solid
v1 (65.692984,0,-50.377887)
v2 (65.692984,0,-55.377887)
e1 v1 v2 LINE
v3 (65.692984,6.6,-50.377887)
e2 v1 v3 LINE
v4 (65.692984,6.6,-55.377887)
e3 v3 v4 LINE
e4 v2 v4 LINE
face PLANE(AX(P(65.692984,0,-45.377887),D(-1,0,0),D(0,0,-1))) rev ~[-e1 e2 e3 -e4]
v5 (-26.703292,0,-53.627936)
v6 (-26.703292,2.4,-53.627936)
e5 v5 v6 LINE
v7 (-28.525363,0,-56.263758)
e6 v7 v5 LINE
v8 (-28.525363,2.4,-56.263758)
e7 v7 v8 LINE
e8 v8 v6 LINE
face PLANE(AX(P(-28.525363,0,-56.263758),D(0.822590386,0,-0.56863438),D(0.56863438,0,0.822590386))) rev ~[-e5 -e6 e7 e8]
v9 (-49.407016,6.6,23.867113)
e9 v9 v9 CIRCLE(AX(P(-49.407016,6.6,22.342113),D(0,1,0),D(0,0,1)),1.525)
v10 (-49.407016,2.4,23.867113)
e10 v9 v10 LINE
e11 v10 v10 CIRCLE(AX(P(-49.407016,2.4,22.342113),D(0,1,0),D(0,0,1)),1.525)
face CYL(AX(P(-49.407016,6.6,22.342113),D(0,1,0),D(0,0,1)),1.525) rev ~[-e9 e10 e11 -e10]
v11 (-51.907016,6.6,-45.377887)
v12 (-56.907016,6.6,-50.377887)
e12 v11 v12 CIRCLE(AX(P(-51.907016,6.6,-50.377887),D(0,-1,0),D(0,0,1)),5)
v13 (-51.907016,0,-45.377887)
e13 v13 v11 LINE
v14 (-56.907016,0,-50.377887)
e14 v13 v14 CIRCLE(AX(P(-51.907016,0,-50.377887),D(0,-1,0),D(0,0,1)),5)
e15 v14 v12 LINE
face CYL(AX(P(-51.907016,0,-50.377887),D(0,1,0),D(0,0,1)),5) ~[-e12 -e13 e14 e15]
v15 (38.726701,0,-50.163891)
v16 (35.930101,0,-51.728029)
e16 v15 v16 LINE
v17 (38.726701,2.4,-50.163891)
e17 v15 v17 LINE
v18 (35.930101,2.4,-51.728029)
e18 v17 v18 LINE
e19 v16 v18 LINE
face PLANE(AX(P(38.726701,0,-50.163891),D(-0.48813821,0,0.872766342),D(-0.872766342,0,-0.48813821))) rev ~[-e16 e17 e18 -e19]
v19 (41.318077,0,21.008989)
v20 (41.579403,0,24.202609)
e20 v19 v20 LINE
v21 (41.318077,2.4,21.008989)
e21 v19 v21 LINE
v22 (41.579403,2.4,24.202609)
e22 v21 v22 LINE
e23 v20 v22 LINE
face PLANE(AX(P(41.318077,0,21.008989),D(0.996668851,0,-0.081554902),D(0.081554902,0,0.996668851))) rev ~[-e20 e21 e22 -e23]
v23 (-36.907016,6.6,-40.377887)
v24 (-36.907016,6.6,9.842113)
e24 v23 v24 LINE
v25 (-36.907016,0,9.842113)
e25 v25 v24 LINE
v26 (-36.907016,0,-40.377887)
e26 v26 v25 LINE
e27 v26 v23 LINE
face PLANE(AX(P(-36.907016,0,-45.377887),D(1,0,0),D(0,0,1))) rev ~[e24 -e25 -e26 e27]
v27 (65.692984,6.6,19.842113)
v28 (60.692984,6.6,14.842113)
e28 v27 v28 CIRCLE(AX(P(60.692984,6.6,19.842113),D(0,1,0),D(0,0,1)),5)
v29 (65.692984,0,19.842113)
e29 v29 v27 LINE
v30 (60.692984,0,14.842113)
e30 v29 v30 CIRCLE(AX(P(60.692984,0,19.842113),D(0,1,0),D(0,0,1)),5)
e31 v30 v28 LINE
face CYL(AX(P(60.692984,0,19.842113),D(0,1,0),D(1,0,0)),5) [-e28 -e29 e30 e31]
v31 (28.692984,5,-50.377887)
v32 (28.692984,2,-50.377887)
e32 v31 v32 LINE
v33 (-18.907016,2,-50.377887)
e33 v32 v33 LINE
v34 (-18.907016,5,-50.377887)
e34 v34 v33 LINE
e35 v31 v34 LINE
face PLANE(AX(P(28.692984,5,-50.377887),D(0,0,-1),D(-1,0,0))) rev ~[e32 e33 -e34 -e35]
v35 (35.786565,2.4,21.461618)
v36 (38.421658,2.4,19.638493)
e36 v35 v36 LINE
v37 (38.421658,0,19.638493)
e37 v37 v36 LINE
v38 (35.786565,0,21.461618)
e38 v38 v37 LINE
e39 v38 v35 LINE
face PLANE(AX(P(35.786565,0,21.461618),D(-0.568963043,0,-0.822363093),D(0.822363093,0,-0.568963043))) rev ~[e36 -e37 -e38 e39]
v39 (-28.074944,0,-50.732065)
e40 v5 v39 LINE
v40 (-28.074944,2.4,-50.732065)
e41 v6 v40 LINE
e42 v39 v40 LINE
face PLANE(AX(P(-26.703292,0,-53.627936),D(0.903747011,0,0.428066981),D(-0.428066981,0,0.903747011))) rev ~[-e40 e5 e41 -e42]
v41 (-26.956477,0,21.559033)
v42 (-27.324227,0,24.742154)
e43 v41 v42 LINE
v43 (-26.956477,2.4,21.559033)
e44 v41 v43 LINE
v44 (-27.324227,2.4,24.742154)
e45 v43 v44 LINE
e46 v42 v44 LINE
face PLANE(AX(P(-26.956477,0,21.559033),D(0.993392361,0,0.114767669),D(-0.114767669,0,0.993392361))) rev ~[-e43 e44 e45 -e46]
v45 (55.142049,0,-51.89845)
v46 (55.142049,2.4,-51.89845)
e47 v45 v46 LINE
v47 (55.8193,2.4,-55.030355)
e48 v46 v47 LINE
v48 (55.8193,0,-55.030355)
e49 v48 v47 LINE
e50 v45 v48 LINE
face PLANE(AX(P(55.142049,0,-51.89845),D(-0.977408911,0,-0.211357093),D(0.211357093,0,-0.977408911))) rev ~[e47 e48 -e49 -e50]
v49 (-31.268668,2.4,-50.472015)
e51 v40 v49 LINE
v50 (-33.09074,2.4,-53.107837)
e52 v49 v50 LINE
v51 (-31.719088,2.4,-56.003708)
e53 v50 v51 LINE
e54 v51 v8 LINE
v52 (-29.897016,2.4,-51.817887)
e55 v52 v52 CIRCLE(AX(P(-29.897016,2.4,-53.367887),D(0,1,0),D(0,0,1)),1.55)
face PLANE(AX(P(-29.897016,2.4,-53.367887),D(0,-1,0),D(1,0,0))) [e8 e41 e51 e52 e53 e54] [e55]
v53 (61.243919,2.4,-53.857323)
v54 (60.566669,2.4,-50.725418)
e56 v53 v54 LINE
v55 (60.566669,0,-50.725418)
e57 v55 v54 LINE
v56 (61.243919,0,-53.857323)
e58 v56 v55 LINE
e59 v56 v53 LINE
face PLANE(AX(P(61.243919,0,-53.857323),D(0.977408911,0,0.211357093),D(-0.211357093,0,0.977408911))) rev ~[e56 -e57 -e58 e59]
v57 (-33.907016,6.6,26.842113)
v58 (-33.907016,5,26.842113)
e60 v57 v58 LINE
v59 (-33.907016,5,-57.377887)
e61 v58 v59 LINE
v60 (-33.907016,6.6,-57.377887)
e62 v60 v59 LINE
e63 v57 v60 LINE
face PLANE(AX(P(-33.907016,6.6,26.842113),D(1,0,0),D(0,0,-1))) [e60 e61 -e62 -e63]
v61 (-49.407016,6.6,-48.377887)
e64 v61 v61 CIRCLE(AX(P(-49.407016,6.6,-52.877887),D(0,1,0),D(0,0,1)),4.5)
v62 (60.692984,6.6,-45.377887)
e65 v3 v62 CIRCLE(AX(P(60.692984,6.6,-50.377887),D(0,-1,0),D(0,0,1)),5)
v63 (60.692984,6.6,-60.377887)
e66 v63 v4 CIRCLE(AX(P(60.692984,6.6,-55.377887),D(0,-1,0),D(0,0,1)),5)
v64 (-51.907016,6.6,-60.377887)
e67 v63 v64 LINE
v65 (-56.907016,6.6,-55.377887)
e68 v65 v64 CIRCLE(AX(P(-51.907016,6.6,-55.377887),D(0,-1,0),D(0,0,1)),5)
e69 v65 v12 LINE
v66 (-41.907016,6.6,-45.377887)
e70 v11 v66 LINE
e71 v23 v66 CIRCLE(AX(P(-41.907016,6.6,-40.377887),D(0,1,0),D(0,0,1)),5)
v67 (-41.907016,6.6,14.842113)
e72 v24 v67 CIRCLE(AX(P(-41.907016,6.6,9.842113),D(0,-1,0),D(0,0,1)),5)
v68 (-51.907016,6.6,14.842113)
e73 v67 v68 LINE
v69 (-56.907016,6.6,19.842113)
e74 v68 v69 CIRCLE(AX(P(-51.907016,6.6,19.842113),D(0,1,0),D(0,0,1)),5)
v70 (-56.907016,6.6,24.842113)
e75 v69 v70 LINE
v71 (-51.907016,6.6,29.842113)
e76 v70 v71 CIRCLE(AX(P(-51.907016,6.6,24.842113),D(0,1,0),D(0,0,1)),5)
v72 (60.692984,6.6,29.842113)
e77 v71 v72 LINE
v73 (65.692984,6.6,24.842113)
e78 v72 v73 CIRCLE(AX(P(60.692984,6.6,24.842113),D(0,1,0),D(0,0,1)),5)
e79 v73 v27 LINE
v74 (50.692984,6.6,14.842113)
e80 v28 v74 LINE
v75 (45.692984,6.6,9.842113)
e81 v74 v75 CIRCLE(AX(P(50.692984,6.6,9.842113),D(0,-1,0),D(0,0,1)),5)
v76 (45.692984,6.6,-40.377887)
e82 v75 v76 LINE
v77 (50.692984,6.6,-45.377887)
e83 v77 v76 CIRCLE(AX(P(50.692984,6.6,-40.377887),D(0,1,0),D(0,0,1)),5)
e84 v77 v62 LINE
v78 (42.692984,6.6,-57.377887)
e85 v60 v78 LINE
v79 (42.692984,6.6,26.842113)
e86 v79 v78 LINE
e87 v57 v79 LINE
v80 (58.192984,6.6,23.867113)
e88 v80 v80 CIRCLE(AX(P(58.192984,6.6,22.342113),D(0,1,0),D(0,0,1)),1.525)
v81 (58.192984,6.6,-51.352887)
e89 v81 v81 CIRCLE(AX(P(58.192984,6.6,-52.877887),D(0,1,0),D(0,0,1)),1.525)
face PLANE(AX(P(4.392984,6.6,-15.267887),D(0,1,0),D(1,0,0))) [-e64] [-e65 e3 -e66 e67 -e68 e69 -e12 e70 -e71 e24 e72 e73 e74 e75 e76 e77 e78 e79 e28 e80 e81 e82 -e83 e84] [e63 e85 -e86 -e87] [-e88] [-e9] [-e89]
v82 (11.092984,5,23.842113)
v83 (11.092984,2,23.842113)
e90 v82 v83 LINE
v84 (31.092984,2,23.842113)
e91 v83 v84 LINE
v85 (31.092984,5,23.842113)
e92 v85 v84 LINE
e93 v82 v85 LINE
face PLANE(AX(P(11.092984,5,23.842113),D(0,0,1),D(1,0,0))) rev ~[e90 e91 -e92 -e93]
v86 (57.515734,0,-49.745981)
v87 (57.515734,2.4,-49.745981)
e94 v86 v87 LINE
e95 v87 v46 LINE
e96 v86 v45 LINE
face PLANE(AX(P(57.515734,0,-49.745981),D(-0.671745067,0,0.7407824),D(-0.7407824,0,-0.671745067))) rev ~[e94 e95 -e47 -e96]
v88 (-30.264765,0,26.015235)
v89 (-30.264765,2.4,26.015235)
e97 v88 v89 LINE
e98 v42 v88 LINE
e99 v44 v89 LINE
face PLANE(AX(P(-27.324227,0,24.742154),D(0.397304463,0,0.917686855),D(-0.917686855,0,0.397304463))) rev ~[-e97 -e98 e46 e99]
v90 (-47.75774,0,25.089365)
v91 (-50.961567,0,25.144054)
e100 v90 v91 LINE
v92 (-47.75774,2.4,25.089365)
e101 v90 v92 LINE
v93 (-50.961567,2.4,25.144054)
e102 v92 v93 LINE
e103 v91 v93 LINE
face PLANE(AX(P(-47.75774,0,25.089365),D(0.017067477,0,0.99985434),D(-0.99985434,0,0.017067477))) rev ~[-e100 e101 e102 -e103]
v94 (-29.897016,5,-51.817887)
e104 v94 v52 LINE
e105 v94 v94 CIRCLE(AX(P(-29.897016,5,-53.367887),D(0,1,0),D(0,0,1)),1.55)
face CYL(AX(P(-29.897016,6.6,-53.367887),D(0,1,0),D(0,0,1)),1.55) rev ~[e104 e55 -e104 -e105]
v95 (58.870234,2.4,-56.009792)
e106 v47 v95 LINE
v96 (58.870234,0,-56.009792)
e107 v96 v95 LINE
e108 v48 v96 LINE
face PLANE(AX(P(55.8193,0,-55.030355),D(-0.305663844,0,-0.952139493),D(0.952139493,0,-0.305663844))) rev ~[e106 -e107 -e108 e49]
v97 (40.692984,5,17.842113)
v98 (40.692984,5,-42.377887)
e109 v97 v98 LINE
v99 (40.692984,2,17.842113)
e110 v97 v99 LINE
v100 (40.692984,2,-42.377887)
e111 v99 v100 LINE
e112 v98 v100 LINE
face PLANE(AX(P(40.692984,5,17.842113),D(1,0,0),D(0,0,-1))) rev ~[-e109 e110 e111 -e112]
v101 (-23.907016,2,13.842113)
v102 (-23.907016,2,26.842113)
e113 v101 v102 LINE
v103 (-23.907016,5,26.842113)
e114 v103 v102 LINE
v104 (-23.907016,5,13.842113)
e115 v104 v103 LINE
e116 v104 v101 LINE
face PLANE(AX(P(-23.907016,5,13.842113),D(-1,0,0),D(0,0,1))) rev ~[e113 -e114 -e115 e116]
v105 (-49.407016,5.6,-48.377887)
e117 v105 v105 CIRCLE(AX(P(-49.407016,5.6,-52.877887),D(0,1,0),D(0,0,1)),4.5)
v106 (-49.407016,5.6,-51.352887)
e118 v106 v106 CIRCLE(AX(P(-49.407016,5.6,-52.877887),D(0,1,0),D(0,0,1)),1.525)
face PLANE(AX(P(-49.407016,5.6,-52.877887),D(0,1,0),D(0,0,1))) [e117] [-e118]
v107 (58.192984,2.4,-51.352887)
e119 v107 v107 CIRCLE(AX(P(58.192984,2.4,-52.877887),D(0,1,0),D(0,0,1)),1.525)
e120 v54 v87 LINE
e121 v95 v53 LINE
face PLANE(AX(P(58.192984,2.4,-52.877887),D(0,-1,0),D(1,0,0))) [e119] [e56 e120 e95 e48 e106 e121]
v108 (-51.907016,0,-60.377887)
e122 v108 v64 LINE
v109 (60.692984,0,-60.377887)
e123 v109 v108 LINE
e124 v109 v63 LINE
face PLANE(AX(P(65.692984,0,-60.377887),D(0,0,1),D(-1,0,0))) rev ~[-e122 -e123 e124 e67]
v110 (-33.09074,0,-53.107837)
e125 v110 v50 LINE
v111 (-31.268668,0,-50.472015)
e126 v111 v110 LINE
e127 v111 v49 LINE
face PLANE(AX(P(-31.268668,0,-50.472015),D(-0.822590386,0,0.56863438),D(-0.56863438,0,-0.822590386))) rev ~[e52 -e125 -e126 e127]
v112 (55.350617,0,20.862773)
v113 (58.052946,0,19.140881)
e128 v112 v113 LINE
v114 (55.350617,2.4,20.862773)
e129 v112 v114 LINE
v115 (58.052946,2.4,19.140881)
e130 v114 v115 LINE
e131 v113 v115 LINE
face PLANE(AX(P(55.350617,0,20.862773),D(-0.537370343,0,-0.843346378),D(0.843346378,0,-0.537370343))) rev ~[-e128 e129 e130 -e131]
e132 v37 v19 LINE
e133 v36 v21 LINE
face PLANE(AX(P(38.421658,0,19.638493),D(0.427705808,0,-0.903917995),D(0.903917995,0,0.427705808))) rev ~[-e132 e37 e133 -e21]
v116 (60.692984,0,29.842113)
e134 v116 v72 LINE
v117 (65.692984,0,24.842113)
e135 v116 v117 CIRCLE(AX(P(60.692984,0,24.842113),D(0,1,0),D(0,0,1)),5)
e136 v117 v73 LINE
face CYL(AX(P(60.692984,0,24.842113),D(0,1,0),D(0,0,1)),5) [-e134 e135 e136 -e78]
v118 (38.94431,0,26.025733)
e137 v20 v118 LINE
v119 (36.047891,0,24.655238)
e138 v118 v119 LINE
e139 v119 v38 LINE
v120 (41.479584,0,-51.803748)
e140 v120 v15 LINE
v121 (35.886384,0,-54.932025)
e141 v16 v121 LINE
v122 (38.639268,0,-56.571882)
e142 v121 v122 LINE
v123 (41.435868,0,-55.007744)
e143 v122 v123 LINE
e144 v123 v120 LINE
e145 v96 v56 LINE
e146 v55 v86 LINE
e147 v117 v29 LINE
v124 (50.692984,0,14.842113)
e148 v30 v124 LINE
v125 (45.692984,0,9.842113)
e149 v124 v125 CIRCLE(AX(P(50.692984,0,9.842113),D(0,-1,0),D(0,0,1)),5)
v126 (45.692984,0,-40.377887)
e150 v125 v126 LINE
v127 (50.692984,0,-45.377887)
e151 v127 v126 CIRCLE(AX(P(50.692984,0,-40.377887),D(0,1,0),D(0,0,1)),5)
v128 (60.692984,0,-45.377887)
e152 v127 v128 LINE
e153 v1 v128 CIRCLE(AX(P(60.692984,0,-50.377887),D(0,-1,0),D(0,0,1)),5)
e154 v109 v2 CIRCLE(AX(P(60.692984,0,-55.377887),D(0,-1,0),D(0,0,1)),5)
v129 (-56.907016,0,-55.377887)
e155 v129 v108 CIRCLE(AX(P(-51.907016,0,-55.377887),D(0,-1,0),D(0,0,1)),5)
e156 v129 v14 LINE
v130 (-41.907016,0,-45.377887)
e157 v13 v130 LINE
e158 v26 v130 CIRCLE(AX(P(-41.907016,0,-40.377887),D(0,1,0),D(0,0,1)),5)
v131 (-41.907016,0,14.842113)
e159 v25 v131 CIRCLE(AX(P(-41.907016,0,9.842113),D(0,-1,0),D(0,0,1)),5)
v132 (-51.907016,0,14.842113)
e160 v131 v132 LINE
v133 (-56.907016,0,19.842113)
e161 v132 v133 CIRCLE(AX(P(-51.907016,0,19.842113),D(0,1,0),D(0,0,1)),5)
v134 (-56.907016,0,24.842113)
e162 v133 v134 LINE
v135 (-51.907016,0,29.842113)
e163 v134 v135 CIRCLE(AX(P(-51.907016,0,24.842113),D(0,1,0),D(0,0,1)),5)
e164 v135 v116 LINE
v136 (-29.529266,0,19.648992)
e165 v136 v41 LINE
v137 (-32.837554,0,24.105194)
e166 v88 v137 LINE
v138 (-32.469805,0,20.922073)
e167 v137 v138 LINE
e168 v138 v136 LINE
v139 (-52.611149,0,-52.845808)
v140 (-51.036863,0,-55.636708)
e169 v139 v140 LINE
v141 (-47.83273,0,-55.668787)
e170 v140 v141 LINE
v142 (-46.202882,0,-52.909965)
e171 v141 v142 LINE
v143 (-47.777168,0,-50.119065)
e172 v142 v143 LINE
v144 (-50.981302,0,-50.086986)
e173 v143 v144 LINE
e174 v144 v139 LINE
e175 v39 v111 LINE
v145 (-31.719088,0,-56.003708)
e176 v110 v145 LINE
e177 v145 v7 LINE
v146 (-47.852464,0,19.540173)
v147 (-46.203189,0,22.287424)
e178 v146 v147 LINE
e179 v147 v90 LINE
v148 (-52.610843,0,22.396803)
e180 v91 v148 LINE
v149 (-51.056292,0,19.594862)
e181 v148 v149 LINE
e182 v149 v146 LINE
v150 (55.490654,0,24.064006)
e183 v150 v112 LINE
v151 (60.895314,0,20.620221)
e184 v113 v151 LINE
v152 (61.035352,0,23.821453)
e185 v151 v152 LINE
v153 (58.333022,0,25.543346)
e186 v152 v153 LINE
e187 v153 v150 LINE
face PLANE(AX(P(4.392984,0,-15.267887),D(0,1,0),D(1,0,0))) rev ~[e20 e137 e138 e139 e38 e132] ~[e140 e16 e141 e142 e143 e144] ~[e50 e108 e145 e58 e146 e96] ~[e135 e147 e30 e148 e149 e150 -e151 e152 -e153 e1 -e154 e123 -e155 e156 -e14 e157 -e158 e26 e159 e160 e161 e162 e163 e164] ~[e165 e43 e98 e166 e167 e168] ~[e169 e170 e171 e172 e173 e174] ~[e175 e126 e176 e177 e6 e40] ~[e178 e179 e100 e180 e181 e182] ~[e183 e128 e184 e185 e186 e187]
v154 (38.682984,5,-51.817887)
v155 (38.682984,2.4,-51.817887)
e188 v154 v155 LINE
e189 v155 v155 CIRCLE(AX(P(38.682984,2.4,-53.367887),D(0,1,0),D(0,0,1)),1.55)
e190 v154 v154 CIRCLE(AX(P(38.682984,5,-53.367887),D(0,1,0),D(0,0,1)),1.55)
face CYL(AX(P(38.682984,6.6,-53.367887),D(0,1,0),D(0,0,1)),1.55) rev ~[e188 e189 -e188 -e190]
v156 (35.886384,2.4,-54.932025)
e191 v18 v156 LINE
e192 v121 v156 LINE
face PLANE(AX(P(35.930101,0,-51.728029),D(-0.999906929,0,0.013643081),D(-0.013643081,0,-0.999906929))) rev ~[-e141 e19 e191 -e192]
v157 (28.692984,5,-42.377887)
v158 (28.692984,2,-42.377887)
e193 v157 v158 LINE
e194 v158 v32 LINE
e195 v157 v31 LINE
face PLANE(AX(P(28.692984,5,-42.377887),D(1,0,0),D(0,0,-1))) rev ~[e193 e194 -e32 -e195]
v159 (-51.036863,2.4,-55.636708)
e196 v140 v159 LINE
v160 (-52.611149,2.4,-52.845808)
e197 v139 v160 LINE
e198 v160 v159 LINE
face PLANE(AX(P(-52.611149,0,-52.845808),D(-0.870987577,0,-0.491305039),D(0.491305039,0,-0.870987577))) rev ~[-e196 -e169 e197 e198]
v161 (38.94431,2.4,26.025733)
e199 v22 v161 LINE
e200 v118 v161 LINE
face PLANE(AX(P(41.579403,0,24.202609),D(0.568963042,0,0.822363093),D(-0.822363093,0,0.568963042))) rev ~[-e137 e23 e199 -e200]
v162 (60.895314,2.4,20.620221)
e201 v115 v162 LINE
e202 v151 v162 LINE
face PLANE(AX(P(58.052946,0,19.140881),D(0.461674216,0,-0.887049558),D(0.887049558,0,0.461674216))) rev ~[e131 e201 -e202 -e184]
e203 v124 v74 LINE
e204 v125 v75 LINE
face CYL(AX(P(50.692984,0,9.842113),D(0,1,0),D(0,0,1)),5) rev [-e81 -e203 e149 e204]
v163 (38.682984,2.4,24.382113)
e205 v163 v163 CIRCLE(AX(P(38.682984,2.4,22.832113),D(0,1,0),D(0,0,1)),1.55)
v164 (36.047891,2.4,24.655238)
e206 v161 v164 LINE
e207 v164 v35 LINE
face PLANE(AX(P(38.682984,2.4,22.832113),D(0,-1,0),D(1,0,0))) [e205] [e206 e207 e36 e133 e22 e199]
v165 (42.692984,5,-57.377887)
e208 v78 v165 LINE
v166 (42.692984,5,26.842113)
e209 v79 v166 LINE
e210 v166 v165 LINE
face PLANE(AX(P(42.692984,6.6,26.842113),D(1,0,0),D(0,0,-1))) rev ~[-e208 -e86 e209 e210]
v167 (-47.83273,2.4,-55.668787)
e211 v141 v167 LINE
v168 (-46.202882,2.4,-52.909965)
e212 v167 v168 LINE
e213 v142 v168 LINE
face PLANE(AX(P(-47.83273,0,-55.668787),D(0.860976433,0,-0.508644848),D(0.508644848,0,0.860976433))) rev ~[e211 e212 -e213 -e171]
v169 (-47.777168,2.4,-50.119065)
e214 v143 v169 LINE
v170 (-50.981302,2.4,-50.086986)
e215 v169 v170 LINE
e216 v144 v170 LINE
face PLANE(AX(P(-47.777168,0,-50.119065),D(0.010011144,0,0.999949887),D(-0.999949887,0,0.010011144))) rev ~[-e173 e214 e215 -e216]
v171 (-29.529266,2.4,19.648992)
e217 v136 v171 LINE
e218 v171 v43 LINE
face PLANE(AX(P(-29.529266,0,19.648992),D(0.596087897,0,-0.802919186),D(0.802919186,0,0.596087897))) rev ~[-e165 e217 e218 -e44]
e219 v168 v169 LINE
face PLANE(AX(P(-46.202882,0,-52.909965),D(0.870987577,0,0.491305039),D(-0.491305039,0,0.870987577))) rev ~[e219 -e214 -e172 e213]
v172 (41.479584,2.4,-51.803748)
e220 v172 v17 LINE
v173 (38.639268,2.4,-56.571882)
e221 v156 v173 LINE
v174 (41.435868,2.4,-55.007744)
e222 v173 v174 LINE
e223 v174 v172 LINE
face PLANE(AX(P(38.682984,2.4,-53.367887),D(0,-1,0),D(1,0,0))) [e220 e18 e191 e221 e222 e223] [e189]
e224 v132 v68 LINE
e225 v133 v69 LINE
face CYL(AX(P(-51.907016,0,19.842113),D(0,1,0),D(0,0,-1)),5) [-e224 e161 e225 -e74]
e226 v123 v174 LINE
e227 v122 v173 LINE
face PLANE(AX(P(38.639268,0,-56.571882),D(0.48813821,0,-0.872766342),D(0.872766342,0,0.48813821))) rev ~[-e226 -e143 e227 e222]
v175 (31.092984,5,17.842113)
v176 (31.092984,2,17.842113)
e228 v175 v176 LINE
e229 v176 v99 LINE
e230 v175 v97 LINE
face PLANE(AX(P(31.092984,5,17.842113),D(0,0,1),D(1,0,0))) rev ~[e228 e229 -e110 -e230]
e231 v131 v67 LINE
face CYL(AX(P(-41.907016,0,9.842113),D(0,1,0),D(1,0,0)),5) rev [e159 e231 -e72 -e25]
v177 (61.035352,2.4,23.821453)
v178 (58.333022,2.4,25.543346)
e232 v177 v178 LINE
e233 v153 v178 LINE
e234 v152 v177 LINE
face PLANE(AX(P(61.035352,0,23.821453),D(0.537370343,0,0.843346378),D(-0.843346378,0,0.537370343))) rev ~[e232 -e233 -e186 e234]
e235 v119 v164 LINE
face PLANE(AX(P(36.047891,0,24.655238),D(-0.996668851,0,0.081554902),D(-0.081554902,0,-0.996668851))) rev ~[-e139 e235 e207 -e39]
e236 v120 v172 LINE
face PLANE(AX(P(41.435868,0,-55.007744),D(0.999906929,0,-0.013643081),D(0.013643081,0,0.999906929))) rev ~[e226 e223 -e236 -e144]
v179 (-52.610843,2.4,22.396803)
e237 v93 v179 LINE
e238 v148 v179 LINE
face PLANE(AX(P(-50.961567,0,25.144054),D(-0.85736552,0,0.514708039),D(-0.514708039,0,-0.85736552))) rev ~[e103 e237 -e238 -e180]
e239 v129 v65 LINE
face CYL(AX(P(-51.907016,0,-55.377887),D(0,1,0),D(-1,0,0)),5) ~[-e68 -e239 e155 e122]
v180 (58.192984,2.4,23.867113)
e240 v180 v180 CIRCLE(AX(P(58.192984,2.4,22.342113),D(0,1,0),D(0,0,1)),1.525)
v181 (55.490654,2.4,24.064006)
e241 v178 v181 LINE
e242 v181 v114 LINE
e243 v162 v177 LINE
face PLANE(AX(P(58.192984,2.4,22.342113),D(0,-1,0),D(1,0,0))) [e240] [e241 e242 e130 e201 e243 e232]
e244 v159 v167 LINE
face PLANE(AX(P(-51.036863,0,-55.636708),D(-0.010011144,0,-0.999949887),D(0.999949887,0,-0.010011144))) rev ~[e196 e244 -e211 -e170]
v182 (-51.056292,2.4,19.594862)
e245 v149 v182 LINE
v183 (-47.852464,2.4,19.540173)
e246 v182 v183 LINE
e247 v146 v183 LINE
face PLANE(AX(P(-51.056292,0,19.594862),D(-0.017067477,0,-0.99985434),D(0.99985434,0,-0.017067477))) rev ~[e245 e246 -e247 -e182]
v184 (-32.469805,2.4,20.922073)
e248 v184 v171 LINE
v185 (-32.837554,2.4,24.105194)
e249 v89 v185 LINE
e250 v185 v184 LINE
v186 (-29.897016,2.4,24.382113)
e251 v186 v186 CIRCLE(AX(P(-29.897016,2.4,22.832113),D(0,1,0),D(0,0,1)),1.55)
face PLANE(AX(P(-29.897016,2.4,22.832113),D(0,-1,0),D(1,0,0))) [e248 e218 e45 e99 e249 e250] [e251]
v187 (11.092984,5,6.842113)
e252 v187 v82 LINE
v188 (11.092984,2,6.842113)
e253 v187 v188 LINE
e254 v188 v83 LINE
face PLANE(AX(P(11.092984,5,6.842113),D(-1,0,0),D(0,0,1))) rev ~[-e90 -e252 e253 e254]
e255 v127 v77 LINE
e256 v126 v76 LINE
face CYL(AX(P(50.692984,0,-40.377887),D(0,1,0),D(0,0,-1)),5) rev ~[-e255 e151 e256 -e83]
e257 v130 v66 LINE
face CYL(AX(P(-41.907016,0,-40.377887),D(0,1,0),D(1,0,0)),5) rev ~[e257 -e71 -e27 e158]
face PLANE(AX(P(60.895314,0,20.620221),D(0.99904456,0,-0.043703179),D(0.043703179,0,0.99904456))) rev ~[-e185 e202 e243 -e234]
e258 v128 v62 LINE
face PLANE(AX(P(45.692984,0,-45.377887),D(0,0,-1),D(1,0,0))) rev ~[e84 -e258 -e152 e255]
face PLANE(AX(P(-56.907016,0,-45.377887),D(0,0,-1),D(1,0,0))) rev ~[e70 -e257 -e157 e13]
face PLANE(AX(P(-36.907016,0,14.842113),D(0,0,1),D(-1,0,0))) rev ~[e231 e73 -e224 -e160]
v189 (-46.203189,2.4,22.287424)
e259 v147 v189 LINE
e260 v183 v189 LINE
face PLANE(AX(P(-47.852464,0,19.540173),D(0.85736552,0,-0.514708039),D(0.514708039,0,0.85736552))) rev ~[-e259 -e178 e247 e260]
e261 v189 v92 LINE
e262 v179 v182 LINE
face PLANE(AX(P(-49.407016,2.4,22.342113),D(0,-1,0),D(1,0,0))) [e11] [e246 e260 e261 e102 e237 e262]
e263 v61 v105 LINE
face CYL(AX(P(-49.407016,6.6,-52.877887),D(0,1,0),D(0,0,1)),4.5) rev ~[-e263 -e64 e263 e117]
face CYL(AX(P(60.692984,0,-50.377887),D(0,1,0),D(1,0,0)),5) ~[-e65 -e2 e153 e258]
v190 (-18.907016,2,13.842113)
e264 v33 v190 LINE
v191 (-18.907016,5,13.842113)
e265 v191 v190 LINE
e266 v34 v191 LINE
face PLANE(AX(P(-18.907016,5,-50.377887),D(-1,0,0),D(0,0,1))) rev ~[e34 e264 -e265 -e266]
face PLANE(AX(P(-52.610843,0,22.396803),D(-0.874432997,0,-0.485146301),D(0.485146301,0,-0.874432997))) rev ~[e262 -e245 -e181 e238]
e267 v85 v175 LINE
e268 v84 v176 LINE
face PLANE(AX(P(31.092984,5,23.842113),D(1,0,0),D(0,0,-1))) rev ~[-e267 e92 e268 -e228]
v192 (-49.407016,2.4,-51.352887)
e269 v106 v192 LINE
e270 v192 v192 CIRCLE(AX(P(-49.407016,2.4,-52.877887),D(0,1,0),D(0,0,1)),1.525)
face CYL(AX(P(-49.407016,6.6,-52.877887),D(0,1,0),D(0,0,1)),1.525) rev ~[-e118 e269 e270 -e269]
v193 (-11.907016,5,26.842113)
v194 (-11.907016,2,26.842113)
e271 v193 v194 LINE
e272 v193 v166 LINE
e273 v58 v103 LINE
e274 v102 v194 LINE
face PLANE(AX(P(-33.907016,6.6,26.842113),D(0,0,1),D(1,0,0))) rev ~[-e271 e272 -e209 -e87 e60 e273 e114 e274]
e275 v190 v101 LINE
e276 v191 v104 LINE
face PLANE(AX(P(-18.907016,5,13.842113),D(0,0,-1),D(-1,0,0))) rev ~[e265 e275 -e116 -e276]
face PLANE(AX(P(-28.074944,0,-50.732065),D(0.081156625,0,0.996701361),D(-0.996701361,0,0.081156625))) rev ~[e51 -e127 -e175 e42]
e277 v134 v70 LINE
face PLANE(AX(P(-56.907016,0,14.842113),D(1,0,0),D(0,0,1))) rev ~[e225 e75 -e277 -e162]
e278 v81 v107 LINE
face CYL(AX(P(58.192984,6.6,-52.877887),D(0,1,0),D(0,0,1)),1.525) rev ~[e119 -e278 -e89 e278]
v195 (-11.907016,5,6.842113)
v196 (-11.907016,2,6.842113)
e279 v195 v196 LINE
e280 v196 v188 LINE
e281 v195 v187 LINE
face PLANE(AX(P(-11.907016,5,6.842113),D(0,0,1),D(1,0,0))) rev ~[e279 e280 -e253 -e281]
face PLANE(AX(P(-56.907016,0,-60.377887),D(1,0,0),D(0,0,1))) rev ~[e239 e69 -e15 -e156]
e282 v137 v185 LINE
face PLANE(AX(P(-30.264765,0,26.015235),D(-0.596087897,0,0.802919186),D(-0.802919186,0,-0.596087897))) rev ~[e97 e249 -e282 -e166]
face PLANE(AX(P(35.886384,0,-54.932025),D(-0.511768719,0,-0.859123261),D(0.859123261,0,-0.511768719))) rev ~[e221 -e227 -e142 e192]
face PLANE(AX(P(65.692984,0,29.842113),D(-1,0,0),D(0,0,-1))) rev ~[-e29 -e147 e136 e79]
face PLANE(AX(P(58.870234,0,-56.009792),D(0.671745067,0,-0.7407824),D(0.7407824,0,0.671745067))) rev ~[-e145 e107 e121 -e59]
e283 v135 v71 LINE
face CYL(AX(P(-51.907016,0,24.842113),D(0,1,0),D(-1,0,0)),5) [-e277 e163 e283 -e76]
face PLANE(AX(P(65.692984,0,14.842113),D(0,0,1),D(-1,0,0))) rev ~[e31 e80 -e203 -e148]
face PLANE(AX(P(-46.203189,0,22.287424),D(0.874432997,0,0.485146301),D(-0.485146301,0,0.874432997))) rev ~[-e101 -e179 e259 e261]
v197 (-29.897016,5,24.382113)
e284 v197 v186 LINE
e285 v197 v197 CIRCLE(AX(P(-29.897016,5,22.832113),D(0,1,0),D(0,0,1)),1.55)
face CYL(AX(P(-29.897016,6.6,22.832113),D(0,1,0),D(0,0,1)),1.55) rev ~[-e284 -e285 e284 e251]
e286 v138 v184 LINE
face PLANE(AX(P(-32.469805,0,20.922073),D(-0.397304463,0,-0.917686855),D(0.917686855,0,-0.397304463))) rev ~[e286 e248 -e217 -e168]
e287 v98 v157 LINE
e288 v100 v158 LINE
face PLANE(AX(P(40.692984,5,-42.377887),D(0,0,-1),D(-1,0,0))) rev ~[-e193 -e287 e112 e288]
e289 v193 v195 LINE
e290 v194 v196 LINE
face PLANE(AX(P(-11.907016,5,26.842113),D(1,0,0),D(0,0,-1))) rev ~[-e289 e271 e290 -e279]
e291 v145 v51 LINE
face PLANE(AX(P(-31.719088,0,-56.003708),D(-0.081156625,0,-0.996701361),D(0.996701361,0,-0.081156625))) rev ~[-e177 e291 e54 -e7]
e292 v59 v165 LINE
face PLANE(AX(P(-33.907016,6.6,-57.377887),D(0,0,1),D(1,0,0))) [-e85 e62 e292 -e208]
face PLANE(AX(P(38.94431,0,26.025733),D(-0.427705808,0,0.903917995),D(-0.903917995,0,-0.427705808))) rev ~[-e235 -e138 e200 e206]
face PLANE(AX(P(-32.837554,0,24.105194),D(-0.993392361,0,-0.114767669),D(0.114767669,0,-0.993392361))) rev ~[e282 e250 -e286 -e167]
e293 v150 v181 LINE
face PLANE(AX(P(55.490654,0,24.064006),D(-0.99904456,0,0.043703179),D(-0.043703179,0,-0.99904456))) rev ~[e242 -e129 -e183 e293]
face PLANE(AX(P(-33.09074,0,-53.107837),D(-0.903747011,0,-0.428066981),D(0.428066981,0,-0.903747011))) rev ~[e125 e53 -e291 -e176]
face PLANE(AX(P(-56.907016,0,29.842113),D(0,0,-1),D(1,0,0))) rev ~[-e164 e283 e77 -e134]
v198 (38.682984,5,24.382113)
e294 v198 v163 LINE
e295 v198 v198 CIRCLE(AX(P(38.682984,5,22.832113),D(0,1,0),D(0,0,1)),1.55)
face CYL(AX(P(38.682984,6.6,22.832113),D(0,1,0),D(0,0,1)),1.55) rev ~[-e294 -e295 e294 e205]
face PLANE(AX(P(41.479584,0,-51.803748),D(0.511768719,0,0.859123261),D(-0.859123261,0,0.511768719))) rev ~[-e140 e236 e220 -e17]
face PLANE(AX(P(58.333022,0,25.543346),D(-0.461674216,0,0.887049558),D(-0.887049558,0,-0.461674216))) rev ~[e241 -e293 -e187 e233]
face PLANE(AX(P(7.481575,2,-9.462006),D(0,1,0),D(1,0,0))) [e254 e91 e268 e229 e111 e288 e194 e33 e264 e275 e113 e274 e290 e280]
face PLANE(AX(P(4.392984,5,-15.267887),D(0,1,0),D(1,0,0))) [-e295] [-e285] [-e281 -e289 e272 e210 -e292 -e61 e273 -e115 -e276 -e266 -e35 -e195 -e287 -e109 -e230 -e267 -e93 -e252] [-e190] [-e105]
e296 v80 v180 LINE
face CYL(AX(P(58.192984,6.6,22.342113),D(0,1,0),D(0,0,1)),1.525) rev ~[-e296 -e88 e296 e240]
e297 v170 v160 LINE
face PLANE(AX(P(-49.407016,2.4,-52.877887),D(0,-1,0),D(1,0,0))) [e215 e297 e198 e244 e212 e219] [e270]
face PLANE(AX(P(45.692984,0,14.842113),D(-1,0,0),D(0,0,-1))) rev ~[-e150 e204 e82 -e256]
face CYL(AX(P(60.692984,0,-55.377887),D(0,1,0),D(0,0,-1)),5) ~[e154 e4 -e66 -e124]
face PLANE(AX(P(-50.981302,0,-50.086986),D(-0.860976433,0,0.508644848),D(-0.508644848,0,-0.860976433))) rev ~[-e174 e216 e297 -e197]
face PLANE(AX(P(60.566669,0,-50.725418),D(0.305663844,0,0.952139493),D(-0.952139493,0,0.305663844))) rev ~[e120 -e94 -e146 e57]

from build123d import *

# Parameters (mm, degrees)
BOSS_EXTRUDE1_DEPTH = 6.6
SKETCH2_5_W         = 76.6
SKETCH2_5_H         = 84.22
CUT_EXTRUDE9_DEPTH  = 1.6
CUT_EXTRUDE10_DEPTH = 3
SKETCH2_R           = 1.55
CUT_EXTRUDE3_DEPTH  = 90.468527235
FILLET1_R           = 5
SKETCH5_R           = 1.525
CUT_EXTRUDE4_DEPTH  = 10
SKETCH5_3_R         = 4.5
CUT_EXTRUDE5_DEPTH  = 1
CUT_EXTRUDE6_DEPTH  = 2.4


with BuildPart() as part:
    # Sketch1 → Boss-Extrude1 (new body)
    with BuildSketch(Plane(origin=(0, 0, 0), x_dir=(1, 0, 0), z_dir=(0, 1, 0))):
        Polygon((-36.907015775, 45.377886591), (-36.907015775, -14.842113409), (-56.907015775, -14.842113409), (-56.907015775, -29.842113409), (-44.307015775, -29.842113409), (45.692984225, -29.842113409), (65.692984225, -29.842113409), (65.692984225, -14.842113409), (45.692984225, -14.842113409), (45.692984225, 45.377886591), (65.692984225, 45.377886591), (65.692984225, 60.377886591), (45.692984225, 60.377886591), (-44.307015775, 60.377886591), (-56.907015775, 60.377886591), (-56.907015775, 45.377886591), align=None)
    extrude(amount=BOSS_EXTRUDE1_DEPTH)

    # Sketch2<5> → Cut-Extrude9 (cut)
    with BuildSketch(Plane(origin=(0, 6.6, 0), x_dir=(1, 0, 0), z_dir=(0, 1, 0))):
        with Locations((4.392984225, 15.267886591)):
            Rectangle(SKETCH2_5_W, SKETCH2_5_H)
    extrude(amount=-CUT_EXTRUDE9_DEPTH, mode=Mode.SUBTRACT)

    # Sketch11 → Cut-Extrude10 (cut)
    with BuildSketch(Plane(origin=(0, 5, 0), x_dir=(1, 0, 0), z_dir=(0, 1, 0))):
        Polygon((-18.907015775, 50.377886591), (-18.907015775, -13.842113409), (-23.907015775, -13.842113409), (-23.907015775, -26.842113409), (-11.907015775, -26.842113409), (-11.907015775, -6.842113409), (11.092984225, -6.842113409), (11.092984225, -23.842113409), (31.092984225, -23.842113409), (31.092984225, -17.842113409), (40.692984225, -17.842113409), (40.692984225, 42.377886591), (28.692984225, 42.377886591), (28.692984225, 50.377886591), align=None)
    extrude(amount=-CUT_EXTRUDE10_DEPTH, mode=Mode.SUBTRACT)

    # Sketch2 → Cut-Extrude3 (cut, through all)
    with BuildSketch(Plane(origin=(0, 6.6, 0), x_dir=(1, 0, 0), z_dir=(0, 1, 0))):
        with Locations((38.682984225, 53.367886591)):
            Circle(SKETCH2_R)
        with Locations((-29.897015775, 53.367886591)):
            Circle(SKETCH2_R)
        with Locations((-29.897015775, -22.832113409)):
            Circle(SKETCH2_R)
        with Locations((38.682984225, -22.832113409)):
            Circle(SKETCH2_R)
    extrude(amount=-CUT_EXTRUDE3_DEPTH, mode=Mode.SUBTRACT)

    # Fillet1
    fillet1_edges = [part.edges().sort_by_distance(p)[0] for p in [
        (-56.907015775, 3.3, -45.377886591),
        (-56.907015775, 3.3, -60.377886591),
        (-56.907015775, 3.3, 29.842113409),
        (65.692984225, 3.3, -60.377886591),
        (45.692984225, 3.3, -45.377886591),
        (65.692984225, 3.3, -45.377886591),
        (65.692984225, 3.3, 29.842113409),
        (-56.907015775, 3.3, 14.842113409),
        (65.692984225, 3.3, 14.842113409),
        (45.692984225, 3.3, 14.842113409),
        (-36.907015775, 3.3, 14.842113409),
        (-36.907015775, 3.3, -45.377886591),
    ]]
    fillet(fillet1_edges, radius=FILLET1_R)

    # Sketch5 → Cut-Extrude4 (cut)
    with BuildSketch(Plane(origin=(0, 6.6, 0), x_dir=(1, 0, 0), z_dir=(0, 1, 0))):
        with Locations((-49.407015775, 52.877886591)):
            Circle(SKETCH5_R)
        with Locations((-49.407015775, -22.342113409)):
            Circle(SKETCH5_R)
        with Locations((58.192984225, -22.342113409)):
            Circle(SKETCH5_R)
        with Locations((58.192984225, 52.877886591)):
            Circle(SKETCH5_R)
    extrude(amount=-CUT_EXTRUDE4_DEPTH, mode=Mode.SUBTRACT)

    # Sketch5<3> → Cut-Extrude5 (cut)
    with BuildSketch(Plane(origin=(0, 6.6, 0), x_dir=(1, 0, 0), z_dir=(0, 1, 0))):
        with Locations((-49.407015775, 52.877886591)):
            Circle(SKETCH5_3_R)
    extrude(amount=-CUT_EXTRUDE5_DEPTH, mode=Mode.SUBTRACT)

    # Sketch6 → Cut-Extrude6 (cut)
    with BuildSketch(Plane.XZ):
        Polygon((-52.610843031, 22.396802624), (-51.056291653, 19.594862223), (-47.852464396, 19.540173008), (-46.203188518, 22.287424193), (-47.757739897, 25.089364595), (-50.961567153, 25.14405381), align=None)
        Polygon((58.333022061, 25.543345891), (55.49065449, 24.064005973), (55.350616655, 20.862773491), (58.05294639, 19.140880927), (60.895313961, 20.620220845), (61.035351796, 23.821453327), align=None)
        Polygon((60.566668821, -50.725417907), (57.515733962, -49.745981088), (55.142049366, -51.898449773), (55.819299629, -55.030355276), (58.870234489, -56.009792094), (61.243919085, -53.85732341), align=None)
        Polygon((-52.611149193, -52.845807944), (-51.036863407, -55.636708205), (-47.832729989, -55.668786852), (-46.202882357, -52.909965238), (-47.777168142, -50.119064978), (-50.98130156, -50.086986331), align=None)
        Polygon((-26.956477298, 21.559033103), (-27.32422665, 24.742154278), (-30.264765127, 26.015234584), (-32.837554252, 24.105193715), (-32.469804899, 20.92207254), (-29.529266422, 19.648992234), align=None)
        Polygon((41.318077345, 21.008988549), (41.579403227, 24.202608562), (38.944310108, 26.025733421), (36.047891106, 24.655238268), (35.786565223, 21.461618256), (38.421658342, 19.638493396), align=None)
        Polygon((41.435867732, -55.007744024), (41.479584174, -51.803748257), (38.726700668, -50.163890825), (35.930100719, -51.728029158), (35.886384277, -54.932024925), (38.639267783, -56.571882358), align=None)
        Polygon((-26.703291591, -53.627936278), (-28.074944048, -50.732065159), (-31.268668231, -50.472015472), (-33.090739958, -53.107836904), (-31.719087502, -56.003708023), (-28.525363318, -56.26375771), align=None)
    extrude(amount=-CUT_EXTRUDE6_DEPTH, mode=Mode.SUBTRACT)


solid = part.part
